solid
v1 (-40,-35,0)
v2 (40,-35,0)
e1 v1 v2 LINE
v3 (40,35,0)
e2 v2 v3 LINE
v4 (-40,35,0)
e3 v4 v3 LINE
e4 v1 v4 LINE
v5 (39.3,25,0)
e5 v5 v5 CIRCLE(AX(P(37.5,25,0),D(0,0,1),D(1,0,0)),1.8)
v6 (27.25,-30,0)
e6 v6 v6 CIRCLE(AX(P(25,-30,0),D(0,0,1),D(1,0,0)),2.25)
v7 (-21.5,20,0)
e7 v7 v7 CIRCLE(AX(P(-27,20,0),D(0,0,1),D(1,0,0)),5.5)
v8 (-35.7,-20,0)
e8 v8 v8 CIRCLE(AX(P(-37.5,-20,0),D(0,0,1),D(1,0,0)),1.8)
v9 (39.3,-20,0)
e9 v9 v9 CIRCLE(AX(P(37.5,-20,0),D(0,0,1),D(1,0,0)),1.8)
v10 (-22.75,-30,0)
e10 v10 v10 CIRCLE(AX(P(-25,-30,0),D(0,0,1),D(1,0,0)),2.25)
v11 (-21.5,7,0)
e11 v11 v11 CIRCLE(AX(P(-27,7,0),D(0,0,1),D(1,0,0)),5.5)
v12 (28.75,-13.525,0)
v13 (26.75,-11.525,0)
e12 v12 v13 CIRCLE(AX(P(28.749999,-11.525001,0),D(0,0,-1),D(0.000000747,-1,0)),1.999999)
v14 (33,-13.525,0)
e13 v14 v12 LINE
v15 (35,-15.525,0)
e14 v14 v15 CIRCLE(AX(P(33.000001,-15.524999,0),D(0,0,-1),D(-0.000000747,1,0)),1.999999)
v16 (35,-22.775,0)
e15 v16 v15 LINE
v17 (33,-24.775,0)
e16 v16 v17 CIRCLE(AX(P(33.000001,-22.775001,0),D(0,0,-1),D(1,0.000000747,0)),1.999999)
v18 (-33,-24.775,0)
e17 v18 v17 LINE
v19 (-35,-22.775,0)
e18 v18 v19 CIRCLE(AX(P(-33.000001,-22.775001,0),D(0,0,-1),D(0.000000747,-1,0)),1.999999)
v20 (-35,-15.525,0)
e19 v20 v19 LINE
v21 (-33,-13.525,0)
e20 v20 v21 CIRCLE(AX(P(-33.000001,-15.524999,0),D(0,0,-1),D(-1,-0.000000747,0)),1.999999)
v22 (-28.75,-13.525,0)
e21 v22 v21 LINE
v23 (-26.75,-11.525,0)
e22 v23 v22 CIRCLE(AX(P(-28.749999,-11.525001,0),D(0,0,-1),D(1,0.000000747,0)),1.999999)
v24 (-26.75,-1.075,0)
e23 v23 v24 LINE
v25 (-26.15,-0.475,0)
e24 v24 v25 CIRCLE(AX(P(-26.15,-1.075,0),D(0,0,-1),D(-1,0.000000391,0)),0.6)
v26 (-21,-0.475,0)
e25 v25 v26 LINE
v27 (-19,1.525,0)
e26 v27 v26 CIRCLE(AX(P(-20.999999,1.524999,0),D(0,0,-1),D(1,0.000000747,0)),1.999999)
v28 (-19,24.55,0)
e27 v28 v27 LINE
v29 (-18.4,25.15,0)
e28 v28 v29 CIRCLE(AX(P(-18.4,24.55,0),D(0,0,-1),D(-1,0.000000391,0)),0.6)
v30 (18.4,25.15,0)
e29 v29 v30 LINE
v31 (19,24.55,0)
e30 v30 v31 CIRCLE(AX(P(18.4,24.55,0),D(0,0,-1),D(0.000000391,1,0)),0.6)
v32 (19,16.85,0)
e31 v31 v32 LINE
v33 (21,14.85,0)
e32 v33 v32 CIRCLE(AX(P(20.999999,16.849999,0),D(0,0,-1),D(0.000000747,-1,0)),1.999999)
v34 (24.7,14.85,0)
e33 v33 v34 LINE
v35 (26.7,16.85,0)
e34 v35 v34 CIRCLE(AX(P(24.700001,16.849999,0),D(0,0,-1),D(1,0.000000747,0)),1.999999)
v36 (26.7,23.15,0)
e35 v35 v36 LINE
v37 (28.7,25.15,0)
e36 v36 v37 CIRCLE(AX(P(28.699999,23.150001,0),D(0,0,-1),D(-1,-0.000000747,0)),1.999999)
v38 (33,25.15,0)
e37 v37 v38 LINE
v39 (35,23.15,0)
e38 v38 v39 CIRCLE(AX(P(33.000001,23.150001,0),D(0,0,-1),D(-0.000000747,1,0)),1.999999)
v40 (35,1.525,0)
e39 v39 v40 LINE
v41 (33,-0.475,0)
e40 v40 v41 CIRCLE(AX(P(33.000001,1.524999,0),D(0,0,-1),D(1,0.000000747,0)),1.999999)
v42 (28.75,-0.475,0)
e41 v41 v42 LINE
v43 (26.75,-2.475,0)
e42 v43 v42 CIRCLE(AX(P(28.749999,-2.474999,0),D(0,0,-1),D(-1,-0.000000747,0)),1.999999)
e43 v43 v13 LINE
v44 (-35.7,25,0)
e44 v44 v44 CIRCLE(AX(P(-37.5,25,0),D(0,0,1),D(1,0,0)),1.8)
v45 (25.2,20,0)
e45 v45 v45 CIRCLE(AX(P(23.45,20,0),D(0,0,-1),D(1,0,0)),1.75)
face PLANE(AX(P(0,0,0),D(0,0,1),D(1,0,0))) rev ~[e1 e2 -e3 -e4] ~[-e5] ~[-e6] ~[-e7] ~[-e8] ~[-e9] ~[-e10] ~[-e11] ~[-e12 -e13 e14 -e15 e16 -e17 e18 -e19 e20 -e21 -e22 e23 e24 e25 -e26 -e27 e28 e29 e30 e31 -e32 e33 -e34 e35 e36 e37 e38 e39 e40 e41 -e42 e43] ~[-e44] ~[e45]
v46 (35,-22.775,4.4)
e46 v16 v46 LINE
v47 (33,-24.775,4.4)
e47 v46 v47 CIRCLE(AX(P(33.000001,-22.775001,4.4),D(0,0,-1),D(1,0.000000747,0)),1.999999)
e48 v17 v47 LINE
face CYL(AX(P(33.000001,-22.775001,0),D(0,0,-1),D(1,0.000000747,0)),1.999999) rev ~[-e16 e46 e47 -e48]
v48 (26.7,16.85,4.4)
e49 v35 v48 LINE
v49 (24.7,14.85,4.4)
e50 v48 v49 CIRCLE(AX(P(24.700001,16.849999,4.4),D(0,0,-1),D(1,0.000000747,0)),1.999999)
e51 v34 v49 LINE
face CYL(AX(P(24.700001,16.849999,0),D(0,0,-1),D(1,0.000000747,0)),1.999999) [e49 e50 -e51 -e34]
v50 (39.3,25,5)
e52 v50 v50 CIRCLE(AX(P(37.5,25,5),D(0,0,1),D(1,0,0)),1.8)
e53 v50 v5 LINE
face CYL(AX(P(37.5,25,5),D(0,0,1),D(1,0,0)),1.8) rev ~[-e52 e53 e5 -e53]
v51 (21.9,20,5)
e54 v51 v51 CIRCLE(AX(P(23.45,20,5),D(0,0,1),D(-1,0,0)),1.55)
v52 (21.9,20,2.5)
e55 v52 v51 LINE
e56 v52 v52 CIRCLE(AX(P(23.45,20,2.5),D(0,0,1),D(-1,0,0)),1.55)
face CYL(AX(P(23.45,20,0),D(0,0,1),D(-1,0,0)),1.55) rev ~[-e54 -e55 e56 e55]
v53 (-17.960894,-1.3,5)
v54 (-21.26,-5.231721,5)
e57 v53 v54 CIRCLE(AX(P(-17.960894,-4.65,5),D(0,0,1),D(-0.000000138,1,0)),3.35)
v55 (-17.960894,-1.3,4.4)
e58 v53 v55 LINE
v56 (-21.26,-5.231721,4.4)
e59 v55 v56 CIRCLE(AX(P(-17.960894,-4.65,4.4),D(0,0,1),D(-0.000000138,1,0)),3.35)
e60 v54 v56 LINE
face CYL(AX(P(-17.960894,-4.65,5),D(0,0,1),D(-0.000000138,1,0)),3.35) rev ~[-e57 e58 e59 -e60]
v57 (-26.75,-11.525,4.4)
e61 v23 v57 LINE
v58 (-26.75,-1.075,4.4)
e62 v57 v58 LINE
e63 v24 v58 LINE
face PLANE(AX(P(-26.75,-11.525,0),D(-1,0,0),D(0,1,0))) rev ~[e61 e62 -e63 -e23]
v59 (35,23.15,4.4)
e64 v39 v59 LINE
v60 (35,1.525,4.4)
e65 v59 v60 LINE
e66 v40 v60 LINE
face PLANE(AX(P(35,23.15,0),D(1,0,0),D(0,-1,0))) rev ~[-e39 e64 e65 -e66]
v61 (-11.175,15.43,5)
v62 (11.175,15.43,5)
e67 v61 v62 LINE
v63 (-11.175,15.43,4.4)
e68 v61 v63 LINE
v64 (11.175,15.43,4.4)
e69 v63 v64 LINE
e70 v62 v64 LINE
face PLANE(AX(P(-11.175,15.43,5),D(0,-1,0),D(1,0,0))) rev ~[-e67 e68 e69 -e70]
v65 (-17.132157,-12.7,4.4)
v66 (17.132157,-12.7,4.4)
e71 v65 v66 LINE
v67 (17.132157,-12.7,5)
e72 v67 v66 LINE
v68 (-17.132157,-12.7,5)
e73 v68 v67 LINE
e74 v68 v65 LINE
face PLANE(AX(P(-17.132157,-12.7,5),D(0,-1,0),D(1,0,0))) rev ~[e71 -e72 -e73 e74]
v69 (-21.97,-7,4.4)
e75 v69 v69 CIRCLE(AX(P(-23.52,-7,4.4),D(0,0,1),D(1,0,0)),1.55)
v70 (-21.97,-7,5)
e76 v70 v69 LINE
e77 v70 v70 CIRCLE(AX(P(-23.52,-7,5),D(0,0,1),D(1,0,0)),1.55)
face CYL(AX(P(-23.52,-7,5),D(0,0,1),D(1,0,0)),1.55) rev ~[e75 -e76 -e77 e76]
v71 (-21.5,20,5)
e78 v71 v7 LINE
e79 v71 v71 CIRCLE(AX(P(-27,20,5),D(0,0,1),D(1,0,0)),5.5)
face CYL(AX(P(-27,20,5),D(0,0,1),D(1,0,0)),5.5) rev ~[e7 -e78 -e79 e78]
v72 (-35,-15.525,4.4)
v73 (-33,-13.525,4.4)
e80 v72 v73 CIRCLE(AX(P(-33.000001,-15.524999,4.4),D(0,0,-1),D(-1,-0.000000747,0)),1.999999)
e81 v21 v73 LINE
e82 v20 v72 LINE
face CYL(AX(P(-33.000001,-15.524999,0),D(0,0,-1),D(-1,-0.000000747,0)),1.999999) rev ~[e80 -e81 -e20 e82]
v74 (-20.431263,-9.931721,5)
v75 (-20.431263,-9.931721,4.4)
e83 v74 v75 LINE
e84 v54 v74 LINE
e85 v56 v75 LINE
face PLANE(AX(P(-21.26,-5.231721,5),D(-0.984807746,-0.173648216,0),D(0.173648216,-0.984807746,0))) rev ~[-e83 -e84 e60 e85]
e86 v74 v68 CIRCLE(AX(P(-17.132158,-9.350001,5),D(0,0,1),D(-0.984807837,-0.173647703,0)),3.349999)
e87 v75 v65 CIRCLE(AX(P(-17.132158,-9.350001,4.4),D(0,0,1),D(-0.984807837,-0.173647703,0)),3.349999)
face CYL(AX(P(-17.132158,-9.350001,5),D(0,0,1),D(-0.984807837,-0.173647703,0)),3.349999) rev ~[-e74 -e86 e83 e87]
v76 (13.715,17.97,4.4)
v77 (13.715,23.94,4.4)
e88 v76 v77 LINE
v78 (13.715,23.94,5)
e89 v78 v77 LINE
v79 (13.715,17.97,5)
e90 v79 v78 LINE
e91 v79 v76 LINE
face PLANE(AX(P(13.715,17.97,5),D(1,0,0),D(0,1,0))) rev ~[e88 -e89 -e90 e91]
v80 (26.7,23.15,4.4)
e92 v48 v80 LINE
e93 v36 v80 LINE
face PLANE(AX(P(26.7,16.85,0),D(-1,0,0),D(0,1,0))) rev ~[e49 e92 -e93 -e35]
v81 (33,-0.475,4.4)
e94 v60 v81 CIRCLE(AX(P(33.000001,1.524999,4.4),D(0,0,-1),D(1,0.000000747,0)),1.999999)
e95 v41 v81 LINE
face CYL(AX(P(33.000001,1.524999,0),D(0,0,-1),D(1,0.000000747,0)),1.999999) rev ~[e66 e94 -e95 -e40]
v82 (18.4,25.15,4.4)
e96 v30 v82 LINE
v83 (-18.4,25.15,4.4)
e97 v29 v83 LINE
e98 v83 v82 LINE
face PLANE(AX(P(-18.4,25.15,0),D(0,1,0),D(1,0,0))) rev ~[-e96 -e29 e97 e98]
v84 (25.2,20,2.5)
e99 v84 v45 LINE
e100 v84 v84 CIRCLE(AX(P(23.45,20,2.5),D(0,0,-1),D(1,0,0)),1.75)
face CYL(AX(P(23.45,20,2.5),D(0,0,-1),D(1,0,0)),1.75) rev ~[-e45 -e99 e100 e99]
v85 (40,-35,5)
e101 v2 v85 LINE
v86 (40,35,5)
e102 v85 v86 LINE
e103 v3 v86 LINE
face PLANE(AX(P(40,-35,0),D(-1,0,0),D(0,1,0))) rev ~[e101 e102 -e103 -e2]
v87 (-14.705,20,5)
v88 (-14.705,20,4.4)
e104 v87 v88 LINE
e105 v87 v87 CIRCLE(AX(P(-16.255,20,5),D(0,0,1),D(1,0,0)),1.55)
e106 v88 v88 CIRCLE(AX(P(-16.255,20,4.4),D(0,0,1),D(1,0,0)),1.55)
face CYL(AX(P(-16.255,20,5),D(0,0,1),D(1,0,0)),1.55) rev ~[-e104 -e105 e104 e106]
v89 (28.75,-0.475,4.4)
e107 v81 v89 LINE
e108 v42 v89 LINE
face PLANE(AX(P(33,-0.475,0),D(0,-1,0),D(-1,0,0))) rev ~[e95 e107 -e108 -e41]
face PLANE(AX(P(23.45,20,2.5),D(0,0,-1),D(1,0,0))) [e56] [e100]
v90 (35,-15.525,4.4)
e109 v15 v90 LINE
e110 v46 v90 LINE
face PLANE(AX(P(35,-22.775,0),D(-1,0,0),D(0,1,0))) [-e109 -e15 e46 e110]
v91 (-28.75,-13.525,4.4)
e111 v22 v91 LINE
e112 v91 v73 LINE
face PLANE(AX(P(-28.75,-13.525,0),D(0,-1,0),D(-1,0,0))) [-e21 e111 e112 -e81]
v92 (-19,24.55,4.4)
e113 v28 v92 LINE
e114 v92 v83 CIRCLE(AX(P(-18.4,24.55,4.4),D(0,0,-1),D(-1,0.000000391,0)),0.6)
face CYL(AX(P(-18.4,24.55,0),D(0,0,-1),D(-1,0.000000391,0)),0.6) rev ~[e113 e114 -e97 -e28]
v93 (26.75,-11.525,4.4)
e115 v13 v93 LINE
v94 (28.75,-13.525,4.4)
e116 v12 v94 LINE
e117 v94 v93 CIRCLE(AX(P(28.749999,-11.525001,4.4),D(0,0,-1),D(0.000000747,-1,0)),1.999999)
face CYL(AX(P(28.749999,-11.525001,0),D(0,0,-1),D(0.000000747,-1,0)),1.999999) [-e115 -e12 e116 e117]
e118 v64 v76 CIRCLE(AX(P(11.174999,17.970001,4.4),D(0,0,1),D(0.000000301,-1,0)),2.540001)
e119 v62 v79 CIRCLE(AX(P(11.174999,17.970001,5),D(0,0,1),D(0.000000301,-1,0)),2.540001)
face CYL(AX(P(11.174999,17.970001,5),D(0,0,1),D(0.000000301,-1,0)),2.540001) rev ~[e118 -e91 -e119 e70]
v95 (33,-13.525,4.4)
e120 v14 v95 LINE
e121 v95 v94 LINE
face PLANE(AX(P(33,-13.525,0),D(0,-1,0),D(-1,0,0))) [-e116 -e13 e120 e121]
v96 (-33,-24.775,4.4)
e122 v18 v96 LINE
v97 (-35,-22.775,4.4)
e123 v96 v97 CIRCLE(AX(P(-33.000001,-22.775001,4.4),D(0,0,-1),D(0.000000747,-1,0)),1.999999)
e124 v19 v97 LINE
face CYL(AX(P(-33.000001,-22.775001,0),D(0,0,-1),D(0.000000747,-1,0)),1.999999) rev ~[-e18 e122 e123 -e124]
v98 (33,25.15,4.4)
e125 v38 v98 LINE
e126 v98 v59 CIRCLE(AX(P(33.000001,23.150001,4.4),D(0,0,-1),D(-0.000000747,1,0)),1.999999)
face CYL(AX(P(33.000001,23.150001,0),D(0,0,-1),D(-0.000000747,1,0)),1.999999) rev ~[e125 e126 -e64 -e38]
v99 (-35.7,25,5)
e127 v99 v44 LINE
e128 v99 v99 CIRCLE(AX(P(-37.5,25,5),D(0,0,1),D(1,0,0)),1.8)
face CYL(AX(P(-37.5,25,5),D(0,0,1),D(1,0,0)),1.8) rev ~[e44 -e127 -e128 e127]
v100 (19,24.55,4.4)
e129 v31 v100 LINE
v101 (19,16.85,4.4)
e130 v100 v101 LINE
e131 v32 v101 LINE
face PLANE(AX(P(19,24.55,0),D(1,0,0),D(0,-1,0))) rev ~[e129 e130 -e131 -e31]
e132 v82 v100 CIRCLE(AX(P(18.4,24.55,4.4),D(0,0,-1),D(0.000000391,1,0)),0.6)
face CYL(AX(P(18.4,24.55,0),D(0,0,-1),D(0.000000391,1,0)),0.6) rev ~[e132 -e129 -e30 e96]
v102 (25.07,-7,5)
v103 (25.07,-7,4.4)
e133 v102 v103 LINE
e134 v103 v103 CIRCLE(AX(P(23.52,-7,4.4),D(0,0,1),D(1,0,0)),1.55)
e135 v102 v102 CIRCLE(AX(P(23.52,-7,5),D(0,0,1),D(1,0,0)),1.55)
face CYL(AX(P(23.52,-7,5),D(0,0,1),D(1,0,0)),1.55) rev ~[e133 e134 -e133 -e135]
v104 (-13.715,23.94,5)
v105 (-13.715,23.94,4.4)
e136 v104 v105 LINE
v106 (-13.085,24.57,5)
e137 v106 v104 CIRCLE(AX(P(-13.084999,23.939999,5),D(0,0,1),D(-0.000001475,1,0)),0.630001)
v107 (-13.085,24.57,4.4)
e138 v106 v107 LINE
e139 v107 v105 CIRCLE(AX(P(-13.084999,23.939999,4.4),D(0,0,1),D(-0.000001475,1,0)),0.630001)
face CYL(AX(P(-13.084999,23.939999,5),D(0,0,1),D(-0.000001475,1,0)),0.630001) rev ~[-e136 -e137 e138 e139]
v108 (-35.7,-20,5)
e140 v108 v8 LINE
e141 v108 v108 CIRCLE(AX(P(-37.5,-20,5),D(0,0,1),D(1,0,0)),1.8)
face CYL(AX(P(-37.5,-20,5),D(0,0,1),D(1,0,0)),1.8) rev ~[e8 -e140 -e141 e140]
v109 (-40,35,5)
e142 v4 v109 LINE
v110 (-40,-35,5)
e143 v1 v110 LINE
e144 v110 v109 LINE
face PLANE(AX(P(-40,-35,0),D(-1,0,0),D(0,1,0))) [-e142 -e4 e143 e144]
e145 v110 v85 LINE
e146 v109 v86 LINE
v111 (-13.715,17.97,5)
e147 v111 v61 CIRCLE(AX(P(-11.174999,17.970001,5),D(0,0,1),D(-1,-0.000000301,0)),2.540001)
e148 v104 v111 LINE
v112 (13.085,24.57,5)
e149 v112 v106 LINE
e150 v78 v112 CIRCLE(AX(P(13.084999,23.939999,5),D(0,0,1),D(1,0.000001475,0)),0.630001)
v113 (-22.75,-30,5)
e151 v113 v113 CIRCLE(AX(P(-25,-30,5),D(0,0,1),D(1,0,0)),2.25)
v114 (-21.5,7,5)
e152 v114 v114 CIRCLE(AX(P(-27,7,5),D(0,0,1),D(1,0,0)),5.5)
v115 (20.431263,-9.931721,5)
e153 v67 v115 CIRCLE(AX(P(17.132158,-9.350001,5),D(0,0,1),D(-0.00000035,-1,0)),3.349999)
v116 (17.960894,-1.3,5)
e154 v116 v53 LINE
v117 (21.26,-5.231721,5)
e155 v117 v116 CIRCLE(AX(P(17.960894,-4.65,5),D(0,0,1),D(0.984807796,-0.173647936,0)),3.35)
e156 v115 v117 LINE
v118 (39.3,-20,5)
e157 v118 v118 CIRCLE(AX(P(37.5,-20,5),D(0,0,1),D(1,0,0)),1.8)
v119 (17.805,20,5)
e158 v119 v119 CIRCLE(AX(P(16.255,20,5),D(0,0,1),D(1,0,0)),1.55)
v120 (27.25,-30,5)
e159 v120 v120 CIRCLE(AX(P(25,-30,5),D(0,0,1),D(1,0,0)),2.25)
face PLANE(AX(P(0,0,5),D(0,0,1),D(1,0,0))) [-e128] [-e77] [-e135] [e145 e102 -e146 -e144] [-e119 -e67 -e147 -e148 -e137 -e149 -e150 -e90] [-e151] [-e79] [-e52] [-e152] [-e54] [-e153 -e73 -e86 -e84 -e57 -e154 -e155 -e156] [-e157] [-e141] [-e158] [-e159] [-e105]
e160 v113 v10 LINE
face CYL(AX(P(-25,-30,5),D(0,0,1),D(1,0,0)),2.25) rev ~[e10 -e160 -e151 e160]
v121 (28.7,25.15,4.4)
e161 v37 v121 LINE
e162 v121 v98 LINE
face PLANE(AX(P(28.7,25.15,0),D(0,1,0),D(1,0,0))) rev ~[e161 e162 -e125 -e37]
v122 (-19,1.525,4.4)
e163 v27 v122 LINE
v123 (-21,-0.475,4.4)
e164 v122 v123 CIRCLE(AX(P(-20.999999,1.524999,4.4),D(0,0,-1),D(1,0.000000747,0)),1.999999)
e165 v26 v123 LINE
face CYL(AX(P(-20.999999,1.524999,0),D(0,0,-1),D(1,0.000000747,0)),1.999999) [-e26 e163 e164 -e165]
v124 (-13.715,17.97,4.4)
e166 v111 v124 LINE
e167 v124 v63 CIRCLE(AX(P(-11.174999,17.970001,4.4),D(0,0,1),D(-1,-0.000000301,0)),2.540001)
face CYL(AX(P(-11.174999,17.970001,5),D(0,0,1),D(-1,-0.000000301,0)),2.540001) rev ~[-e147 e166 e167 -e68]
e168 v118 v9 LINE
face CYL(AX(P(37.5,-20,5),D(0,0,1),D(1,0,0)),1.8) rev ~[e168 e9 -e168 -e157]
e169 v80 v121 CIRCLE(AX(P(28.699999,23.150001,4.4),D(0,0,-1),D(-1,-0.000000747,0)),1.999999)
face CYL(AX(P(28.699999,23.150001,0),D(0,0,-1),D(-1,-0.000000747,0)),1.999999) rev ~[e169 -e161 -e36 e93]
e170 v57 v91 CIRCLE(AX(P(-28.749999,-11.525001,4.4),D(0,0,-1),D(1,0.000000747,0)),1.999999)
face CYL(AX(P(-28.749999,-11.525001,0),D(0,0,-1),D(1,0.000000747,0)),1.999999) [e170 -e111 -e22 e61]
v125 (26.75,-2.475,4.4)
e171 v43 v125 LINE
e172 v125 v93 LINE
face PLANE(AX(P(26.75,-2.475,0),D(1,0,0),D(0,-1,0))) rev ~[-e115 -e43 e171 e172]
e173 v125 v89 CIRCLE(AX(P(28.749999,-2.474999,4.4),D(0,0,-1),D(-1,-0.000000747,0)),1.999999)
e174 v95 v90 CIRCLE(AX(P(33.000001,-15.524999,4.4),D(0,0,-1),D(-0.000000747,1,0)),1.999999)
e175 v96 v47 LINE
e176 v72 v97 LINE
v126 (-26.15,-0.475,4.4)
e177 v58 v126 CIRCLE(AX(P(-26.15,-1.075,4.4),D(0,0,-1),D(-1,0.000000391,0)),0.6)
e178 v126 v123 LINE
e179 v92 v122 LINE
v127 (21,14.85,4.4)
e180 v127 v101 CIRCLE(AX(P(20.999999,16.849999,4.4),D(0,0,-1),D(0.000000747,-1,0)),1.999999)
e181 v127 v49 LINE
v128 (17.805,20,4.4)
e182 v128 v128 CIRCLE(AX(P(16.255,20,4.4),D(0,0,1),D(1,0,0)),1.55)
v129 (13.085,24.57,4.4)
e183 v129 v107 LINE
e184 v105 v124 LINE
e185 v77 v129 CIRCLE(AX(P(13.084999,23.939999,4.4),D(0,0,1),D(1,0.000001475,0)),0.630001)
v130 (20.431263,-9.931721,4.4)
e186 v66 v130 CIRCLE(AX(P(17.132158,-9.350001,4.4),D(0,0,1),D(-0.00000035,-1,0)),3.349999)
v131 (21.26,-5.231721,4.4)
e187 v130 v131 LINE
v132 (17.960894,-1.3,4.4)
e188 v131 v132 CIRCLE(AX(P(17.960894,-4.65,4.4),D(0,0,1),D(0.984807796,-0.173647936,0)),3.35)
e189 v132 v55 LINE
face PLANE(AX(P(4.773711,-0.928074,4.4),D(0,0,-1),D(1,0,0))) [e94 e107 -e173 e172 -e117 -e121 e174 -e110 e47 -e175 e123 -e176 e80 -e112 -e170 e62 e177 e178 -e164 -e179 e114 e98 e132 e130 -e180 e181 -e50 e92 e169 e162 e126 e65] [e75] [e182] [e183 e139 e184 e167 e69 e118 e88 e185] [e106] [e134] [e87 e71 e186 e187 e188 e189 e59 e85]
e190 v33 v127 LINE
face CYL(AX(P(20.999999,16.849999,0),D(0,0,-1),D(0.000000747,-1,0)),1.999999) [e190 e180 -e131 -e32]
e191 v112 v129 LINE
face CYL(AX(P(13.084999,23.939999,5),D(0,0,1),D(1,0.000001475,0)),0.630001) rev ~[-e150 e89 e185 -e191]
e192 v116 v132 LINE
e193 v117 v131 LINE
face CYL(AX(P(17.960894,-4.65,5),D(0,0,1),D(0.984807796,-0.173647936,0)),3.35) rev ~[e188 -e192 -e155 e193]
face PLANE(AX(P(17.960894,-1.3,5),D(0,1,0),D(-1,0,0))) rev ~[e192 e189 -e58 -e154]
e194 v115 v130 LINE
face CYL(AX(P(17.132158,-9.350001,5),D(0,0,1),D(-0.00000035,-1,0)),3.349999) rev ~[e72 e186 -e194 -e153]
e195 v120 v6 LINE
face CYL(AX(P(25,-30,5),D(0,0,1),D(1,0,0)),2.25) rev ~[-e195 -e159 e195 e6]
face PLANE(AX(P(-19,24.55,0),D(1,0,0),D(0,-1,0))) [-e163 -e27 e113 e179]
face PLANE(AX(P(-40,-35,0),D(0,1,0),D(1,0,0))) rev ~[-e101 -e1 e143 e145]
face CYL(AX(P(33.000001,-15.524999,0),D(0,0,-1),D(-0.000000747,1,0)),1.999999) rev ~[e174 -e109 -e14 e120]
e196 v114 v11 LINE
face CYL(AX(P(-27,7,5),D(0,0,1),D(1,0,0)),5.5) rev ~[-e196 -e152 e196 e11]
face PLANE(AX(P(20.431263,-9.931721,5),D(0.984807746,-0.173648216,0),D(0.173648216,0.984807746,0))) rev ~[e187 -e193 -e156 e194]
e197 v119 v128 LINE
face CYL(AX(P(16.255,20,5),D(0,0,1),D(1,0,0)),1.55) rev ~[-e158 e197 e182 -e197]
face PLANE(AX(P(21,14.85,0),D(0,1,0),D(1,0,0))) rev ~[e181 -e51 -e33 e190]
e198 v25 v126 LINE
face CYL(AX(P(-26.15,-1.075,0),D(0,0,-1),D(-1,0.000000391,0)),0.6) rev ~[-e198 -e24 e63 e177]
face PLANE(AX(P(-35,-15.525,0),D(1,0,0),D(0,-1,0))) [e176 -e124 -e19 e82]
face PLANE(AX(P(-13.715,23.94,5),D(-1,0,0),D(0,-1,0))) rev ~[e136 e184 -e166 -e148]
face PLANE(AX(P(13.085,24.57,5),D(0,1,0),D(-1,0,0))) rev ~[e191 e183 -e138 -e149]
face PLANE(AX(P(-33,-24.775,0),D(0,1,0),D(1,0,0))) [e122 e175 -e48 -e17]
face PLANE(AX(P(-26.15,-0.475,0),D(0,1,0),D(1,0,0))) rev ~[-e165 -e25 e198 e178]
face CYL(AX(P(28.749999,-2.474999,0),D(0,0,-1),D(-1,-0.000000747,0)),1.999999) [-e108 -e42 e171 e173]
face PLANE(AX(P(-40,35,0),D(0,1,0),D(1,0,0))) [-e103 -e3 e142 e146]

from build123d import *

# Parameters (mm, degrees)
SKETCH_W            = 80
SKETCH_H            = 70
PAD_DEPTH           = 5
SKETCH001_R         = 1.8
HOLE_DEPTH          = 5.001
SKETCH005_R         = 2.25
HOLE003_DEPTH       = 5.001
SKETCH003_R         = 1.55
HOLE001_DEPTH       = 5.001
SKETCH002_R         = 5.5
HOLE002_DEPTH       = 25
POCKET_DEPTH        = 5.001
HOLE004_D           = 3.1
HOLE004_CBORE_D     = 3.5
HOLE004_CBORE_DEPTH = 2.5
POCKET001_DEPTH     = 4.4


with BuildPart() as part:
    # Sketch → Pad (new body)
    with BuildSketch(Plane.XY):
        Rectangle(SKETCH_W, SKETCH_H)
    extrude(amount=PAD_DEPTH)

    # Sketch001 (on Face6 of Pad) → Hole (cut, through all)
    with BuildSketch(Plane.XY.offset(5)):
        with Locations((-37.5, 25)):
            Circle(SKETCH001_R)
        with Locations((37.5, 25)):
            Circle(SKETCH001_R)
        with Locations((-37.5, -20)):
            Circle(SKETCH001_R)
        with Locations((37.5, -20)):
            Circle(SKETCH001_R)
    extrude(amount=-HOLE_DEPTH, mode=Mode.SUBTRACT)

    # Sketch005 (on Face5 of Hole) → Hole003 (cut, through all)
    with BuildSketch(Plane.XY.offset(5)):
        with Locations((-25, -30)):
            Circle(SKETCH005_R)
        with Locations((25, -30)):
            Circle(SKETCH005_R)
    extrude(amount=-HOLE003_DEPTH, mode=Mode.SUBTRACT)

    # Sketch003 (on Face5 of Hole003) → Hole001 (cut, through all)
    with BuildSketch(Plane.XY.offset(5)):
        with Locations((-16.255, 20)):
            Circle(SKETCH003_R)
        with Locations((16.255, 20)):
            Circle(SKETCH003_R)
        with Locations((-23.52, -7)):
            Circle(SKETCH003_R)
        with Locations((23.52, -7)):
            Circle(SKETCH003_R)
    extrude(amount=-HOLE001_DEPTH, mode=Mode.SUBTRACT)

    # Sketch002 (on Face5 of Hole001) → Hole002 (cut)
    with BuildSketch(Plane.XY.offset(5)):
        with Locations((-27, 7)):
            Circle(SKETCH002_R)
        with Locations((-27, 20)):
            Circle(SKETCH002_R)
    extrude(amount=-HOLE002_DEPTH, mode=Mode.SUBTRACT)

    # Sketch004 (on Face5 of Hole002) → Pocket (cut, through all)
    with BuildSketch(Plane.XY.offset(5)):
        with BuildLine():
            Line((-13.715, 23.94), (-13.715, 17.97))
            ThreePointArc((-13.715, 17.97), (-12.971051, 16.173949), (-11.175, 15.43))
            Line((-11.175, 15.43), (11.175, 15.43))
            ThreePointArc((11.175, 15.43), (12.971051, 16.173949), (13.715, 17.97))
            Line((13.715, 17.97), (13.715, 23.94))
            ThreePointArc((13.715, 23.94), (13.530477, 24.385477), (13.085, 24.57))
            Line((13.085, 24.57), (-13.085, 24.57))
            ThreePointArc((-13.085, 24.57), (-13.530477, 24.385477), (-13.715, 23.94))
        make_face()
        with BuildLine():
            Line((-21.26, -5.231721), (-20.431263, -9.931721))
            ThreePointArc((-20.431263, -9.931721), (-19.285496, -11.916249), (-17.132157, -12.7))
            Line((-17.132157, -12.7), (17.132157, -12.7))
            ThreePointArc((17.132157, -12.7), (19.285496, -11.916249), (20.431263, -9.931721))
            Line((20.431263, -9.931721), (21.26, -5.231721))
            ThreePointArc((21.26, -5.231721), (20.527143, -2.496662), (17.960894, -1.3))
            Line((17.960894, -1.3), (-17.960894, -1.3))
            ThreePointArc((-17.960894, -1.3), (-20.527143, -2.496662), (-21.26, -5.231721))
        make_face()
    extrude(amount=-POCKET_DEPTH, mode=Mode.SUBTRACT)

    # Hole004 (through all)
    with Locations(Plane(origin=(0, 0, 0), x_dir=(1, 0, 0), z_dir=(0, 0, -1))):
        with Locations((23.45, -20)):
            CounterBoreHole(HOLE004_D / 2, HOLE004_CBORE_D / 2, HOLE004_CBORE_DEPTH)

    # Sketch007 (on Face4 of Hole004) → Pocket001 (cut)
    with BuildSketch(Plane(origin=(0, 0, 0), x_dir=(1, 0, 0), z_dir=(0, 0, -1))):
        with BuildLine():
            Line((-18.4, -25.15), (18.4, -25.15))
            ThreePointArc((18.4, -25.15), (18.824264, -24.974264), (19, -24.55))
            Line((19, -24.55), (19, -16.85))
            ThreePointArc((21, -14.85), (19.585786, -15.435786), (19, -16.85))
            Line((21, -14.85), (24.7, -14.85))
            ThreePointArc((26.7, -16.85), (26.114214, -15.435786), (24.7, -14.85))
            Line((26.7, -16.85), (26.7, -23.15))
            ThreePointArc((26.7, -23.15), (27.285786, -24.564214), (28.7, -25.15))
            Line((28.7, -25.15), (33, -25.15))
            ThreePointArc((33, -25.15), (34.414214, -24.564214), (35, -23.15))
            Line((35, -23.15), (35, -1.525))
            ThreePointArc((35, -1.525), (34.414214, -0.110786), (33, 0.475))
            Line((33, 0.475), (28.75, 0.475))
            ThreePointArc((26.75, 2.475), (27.335786, 1.060786), (28.75, 0.475))
            Line((26.75, 2.475), (26.75, 11.525))
            ThreePointArc((28.75, 13.525), (27.335786, 12.939214), (26.75, 11.525))
            Line((33, 13.525), (28.75, 13.525))
            ThreePointArc((33, 13.525), (34.414214, 14.110786), (35, 15.525))
            Line((35, 22.775), (35, 15.525))
            ThreePointArc((35, 22.775), (34.414214, 24.189214), (33, 24.775))
            Line((-33, 24.775), (33, 24.775))
            ThreePointArc((-33, 24.775), (-34.414214, 24.189214), (-35, 22.775))
            Line((-35, 15.525), (-35, 22.775))
            ThreePointArc((-35, 15.525), (-34.414214, 14.110786), (-33, 13.525))
            Line((-28.75, 13.525), (-33, 13.525))
            ThreePointArc((-26.75, 11.525), (-27.335786, 12.939214), (-28.75, 13.525))
            Line((-26.75, 11.525), (-26.75, 1.075))
            ThreePointArc((-26.75, 1.075), (-26.574264, 0.650736), (-26.15, 0.475))
            Line((-26.15, 0.475), (-21, 0.475))
            ThreePointArc((-19, -1.525), (-19.585786, -0.110786), (-21, 0.475))
            Line((-19, -24.55), (-19, -1.525))
            ThreePointArc((-19, -24.55), (-18.824264, -24.974264), (-18.4, -25.15))
        make_face()
    extrude(amount=-POCKET001_DEPTH, mode=Mode.SUBTRACT)


solid = part.part
